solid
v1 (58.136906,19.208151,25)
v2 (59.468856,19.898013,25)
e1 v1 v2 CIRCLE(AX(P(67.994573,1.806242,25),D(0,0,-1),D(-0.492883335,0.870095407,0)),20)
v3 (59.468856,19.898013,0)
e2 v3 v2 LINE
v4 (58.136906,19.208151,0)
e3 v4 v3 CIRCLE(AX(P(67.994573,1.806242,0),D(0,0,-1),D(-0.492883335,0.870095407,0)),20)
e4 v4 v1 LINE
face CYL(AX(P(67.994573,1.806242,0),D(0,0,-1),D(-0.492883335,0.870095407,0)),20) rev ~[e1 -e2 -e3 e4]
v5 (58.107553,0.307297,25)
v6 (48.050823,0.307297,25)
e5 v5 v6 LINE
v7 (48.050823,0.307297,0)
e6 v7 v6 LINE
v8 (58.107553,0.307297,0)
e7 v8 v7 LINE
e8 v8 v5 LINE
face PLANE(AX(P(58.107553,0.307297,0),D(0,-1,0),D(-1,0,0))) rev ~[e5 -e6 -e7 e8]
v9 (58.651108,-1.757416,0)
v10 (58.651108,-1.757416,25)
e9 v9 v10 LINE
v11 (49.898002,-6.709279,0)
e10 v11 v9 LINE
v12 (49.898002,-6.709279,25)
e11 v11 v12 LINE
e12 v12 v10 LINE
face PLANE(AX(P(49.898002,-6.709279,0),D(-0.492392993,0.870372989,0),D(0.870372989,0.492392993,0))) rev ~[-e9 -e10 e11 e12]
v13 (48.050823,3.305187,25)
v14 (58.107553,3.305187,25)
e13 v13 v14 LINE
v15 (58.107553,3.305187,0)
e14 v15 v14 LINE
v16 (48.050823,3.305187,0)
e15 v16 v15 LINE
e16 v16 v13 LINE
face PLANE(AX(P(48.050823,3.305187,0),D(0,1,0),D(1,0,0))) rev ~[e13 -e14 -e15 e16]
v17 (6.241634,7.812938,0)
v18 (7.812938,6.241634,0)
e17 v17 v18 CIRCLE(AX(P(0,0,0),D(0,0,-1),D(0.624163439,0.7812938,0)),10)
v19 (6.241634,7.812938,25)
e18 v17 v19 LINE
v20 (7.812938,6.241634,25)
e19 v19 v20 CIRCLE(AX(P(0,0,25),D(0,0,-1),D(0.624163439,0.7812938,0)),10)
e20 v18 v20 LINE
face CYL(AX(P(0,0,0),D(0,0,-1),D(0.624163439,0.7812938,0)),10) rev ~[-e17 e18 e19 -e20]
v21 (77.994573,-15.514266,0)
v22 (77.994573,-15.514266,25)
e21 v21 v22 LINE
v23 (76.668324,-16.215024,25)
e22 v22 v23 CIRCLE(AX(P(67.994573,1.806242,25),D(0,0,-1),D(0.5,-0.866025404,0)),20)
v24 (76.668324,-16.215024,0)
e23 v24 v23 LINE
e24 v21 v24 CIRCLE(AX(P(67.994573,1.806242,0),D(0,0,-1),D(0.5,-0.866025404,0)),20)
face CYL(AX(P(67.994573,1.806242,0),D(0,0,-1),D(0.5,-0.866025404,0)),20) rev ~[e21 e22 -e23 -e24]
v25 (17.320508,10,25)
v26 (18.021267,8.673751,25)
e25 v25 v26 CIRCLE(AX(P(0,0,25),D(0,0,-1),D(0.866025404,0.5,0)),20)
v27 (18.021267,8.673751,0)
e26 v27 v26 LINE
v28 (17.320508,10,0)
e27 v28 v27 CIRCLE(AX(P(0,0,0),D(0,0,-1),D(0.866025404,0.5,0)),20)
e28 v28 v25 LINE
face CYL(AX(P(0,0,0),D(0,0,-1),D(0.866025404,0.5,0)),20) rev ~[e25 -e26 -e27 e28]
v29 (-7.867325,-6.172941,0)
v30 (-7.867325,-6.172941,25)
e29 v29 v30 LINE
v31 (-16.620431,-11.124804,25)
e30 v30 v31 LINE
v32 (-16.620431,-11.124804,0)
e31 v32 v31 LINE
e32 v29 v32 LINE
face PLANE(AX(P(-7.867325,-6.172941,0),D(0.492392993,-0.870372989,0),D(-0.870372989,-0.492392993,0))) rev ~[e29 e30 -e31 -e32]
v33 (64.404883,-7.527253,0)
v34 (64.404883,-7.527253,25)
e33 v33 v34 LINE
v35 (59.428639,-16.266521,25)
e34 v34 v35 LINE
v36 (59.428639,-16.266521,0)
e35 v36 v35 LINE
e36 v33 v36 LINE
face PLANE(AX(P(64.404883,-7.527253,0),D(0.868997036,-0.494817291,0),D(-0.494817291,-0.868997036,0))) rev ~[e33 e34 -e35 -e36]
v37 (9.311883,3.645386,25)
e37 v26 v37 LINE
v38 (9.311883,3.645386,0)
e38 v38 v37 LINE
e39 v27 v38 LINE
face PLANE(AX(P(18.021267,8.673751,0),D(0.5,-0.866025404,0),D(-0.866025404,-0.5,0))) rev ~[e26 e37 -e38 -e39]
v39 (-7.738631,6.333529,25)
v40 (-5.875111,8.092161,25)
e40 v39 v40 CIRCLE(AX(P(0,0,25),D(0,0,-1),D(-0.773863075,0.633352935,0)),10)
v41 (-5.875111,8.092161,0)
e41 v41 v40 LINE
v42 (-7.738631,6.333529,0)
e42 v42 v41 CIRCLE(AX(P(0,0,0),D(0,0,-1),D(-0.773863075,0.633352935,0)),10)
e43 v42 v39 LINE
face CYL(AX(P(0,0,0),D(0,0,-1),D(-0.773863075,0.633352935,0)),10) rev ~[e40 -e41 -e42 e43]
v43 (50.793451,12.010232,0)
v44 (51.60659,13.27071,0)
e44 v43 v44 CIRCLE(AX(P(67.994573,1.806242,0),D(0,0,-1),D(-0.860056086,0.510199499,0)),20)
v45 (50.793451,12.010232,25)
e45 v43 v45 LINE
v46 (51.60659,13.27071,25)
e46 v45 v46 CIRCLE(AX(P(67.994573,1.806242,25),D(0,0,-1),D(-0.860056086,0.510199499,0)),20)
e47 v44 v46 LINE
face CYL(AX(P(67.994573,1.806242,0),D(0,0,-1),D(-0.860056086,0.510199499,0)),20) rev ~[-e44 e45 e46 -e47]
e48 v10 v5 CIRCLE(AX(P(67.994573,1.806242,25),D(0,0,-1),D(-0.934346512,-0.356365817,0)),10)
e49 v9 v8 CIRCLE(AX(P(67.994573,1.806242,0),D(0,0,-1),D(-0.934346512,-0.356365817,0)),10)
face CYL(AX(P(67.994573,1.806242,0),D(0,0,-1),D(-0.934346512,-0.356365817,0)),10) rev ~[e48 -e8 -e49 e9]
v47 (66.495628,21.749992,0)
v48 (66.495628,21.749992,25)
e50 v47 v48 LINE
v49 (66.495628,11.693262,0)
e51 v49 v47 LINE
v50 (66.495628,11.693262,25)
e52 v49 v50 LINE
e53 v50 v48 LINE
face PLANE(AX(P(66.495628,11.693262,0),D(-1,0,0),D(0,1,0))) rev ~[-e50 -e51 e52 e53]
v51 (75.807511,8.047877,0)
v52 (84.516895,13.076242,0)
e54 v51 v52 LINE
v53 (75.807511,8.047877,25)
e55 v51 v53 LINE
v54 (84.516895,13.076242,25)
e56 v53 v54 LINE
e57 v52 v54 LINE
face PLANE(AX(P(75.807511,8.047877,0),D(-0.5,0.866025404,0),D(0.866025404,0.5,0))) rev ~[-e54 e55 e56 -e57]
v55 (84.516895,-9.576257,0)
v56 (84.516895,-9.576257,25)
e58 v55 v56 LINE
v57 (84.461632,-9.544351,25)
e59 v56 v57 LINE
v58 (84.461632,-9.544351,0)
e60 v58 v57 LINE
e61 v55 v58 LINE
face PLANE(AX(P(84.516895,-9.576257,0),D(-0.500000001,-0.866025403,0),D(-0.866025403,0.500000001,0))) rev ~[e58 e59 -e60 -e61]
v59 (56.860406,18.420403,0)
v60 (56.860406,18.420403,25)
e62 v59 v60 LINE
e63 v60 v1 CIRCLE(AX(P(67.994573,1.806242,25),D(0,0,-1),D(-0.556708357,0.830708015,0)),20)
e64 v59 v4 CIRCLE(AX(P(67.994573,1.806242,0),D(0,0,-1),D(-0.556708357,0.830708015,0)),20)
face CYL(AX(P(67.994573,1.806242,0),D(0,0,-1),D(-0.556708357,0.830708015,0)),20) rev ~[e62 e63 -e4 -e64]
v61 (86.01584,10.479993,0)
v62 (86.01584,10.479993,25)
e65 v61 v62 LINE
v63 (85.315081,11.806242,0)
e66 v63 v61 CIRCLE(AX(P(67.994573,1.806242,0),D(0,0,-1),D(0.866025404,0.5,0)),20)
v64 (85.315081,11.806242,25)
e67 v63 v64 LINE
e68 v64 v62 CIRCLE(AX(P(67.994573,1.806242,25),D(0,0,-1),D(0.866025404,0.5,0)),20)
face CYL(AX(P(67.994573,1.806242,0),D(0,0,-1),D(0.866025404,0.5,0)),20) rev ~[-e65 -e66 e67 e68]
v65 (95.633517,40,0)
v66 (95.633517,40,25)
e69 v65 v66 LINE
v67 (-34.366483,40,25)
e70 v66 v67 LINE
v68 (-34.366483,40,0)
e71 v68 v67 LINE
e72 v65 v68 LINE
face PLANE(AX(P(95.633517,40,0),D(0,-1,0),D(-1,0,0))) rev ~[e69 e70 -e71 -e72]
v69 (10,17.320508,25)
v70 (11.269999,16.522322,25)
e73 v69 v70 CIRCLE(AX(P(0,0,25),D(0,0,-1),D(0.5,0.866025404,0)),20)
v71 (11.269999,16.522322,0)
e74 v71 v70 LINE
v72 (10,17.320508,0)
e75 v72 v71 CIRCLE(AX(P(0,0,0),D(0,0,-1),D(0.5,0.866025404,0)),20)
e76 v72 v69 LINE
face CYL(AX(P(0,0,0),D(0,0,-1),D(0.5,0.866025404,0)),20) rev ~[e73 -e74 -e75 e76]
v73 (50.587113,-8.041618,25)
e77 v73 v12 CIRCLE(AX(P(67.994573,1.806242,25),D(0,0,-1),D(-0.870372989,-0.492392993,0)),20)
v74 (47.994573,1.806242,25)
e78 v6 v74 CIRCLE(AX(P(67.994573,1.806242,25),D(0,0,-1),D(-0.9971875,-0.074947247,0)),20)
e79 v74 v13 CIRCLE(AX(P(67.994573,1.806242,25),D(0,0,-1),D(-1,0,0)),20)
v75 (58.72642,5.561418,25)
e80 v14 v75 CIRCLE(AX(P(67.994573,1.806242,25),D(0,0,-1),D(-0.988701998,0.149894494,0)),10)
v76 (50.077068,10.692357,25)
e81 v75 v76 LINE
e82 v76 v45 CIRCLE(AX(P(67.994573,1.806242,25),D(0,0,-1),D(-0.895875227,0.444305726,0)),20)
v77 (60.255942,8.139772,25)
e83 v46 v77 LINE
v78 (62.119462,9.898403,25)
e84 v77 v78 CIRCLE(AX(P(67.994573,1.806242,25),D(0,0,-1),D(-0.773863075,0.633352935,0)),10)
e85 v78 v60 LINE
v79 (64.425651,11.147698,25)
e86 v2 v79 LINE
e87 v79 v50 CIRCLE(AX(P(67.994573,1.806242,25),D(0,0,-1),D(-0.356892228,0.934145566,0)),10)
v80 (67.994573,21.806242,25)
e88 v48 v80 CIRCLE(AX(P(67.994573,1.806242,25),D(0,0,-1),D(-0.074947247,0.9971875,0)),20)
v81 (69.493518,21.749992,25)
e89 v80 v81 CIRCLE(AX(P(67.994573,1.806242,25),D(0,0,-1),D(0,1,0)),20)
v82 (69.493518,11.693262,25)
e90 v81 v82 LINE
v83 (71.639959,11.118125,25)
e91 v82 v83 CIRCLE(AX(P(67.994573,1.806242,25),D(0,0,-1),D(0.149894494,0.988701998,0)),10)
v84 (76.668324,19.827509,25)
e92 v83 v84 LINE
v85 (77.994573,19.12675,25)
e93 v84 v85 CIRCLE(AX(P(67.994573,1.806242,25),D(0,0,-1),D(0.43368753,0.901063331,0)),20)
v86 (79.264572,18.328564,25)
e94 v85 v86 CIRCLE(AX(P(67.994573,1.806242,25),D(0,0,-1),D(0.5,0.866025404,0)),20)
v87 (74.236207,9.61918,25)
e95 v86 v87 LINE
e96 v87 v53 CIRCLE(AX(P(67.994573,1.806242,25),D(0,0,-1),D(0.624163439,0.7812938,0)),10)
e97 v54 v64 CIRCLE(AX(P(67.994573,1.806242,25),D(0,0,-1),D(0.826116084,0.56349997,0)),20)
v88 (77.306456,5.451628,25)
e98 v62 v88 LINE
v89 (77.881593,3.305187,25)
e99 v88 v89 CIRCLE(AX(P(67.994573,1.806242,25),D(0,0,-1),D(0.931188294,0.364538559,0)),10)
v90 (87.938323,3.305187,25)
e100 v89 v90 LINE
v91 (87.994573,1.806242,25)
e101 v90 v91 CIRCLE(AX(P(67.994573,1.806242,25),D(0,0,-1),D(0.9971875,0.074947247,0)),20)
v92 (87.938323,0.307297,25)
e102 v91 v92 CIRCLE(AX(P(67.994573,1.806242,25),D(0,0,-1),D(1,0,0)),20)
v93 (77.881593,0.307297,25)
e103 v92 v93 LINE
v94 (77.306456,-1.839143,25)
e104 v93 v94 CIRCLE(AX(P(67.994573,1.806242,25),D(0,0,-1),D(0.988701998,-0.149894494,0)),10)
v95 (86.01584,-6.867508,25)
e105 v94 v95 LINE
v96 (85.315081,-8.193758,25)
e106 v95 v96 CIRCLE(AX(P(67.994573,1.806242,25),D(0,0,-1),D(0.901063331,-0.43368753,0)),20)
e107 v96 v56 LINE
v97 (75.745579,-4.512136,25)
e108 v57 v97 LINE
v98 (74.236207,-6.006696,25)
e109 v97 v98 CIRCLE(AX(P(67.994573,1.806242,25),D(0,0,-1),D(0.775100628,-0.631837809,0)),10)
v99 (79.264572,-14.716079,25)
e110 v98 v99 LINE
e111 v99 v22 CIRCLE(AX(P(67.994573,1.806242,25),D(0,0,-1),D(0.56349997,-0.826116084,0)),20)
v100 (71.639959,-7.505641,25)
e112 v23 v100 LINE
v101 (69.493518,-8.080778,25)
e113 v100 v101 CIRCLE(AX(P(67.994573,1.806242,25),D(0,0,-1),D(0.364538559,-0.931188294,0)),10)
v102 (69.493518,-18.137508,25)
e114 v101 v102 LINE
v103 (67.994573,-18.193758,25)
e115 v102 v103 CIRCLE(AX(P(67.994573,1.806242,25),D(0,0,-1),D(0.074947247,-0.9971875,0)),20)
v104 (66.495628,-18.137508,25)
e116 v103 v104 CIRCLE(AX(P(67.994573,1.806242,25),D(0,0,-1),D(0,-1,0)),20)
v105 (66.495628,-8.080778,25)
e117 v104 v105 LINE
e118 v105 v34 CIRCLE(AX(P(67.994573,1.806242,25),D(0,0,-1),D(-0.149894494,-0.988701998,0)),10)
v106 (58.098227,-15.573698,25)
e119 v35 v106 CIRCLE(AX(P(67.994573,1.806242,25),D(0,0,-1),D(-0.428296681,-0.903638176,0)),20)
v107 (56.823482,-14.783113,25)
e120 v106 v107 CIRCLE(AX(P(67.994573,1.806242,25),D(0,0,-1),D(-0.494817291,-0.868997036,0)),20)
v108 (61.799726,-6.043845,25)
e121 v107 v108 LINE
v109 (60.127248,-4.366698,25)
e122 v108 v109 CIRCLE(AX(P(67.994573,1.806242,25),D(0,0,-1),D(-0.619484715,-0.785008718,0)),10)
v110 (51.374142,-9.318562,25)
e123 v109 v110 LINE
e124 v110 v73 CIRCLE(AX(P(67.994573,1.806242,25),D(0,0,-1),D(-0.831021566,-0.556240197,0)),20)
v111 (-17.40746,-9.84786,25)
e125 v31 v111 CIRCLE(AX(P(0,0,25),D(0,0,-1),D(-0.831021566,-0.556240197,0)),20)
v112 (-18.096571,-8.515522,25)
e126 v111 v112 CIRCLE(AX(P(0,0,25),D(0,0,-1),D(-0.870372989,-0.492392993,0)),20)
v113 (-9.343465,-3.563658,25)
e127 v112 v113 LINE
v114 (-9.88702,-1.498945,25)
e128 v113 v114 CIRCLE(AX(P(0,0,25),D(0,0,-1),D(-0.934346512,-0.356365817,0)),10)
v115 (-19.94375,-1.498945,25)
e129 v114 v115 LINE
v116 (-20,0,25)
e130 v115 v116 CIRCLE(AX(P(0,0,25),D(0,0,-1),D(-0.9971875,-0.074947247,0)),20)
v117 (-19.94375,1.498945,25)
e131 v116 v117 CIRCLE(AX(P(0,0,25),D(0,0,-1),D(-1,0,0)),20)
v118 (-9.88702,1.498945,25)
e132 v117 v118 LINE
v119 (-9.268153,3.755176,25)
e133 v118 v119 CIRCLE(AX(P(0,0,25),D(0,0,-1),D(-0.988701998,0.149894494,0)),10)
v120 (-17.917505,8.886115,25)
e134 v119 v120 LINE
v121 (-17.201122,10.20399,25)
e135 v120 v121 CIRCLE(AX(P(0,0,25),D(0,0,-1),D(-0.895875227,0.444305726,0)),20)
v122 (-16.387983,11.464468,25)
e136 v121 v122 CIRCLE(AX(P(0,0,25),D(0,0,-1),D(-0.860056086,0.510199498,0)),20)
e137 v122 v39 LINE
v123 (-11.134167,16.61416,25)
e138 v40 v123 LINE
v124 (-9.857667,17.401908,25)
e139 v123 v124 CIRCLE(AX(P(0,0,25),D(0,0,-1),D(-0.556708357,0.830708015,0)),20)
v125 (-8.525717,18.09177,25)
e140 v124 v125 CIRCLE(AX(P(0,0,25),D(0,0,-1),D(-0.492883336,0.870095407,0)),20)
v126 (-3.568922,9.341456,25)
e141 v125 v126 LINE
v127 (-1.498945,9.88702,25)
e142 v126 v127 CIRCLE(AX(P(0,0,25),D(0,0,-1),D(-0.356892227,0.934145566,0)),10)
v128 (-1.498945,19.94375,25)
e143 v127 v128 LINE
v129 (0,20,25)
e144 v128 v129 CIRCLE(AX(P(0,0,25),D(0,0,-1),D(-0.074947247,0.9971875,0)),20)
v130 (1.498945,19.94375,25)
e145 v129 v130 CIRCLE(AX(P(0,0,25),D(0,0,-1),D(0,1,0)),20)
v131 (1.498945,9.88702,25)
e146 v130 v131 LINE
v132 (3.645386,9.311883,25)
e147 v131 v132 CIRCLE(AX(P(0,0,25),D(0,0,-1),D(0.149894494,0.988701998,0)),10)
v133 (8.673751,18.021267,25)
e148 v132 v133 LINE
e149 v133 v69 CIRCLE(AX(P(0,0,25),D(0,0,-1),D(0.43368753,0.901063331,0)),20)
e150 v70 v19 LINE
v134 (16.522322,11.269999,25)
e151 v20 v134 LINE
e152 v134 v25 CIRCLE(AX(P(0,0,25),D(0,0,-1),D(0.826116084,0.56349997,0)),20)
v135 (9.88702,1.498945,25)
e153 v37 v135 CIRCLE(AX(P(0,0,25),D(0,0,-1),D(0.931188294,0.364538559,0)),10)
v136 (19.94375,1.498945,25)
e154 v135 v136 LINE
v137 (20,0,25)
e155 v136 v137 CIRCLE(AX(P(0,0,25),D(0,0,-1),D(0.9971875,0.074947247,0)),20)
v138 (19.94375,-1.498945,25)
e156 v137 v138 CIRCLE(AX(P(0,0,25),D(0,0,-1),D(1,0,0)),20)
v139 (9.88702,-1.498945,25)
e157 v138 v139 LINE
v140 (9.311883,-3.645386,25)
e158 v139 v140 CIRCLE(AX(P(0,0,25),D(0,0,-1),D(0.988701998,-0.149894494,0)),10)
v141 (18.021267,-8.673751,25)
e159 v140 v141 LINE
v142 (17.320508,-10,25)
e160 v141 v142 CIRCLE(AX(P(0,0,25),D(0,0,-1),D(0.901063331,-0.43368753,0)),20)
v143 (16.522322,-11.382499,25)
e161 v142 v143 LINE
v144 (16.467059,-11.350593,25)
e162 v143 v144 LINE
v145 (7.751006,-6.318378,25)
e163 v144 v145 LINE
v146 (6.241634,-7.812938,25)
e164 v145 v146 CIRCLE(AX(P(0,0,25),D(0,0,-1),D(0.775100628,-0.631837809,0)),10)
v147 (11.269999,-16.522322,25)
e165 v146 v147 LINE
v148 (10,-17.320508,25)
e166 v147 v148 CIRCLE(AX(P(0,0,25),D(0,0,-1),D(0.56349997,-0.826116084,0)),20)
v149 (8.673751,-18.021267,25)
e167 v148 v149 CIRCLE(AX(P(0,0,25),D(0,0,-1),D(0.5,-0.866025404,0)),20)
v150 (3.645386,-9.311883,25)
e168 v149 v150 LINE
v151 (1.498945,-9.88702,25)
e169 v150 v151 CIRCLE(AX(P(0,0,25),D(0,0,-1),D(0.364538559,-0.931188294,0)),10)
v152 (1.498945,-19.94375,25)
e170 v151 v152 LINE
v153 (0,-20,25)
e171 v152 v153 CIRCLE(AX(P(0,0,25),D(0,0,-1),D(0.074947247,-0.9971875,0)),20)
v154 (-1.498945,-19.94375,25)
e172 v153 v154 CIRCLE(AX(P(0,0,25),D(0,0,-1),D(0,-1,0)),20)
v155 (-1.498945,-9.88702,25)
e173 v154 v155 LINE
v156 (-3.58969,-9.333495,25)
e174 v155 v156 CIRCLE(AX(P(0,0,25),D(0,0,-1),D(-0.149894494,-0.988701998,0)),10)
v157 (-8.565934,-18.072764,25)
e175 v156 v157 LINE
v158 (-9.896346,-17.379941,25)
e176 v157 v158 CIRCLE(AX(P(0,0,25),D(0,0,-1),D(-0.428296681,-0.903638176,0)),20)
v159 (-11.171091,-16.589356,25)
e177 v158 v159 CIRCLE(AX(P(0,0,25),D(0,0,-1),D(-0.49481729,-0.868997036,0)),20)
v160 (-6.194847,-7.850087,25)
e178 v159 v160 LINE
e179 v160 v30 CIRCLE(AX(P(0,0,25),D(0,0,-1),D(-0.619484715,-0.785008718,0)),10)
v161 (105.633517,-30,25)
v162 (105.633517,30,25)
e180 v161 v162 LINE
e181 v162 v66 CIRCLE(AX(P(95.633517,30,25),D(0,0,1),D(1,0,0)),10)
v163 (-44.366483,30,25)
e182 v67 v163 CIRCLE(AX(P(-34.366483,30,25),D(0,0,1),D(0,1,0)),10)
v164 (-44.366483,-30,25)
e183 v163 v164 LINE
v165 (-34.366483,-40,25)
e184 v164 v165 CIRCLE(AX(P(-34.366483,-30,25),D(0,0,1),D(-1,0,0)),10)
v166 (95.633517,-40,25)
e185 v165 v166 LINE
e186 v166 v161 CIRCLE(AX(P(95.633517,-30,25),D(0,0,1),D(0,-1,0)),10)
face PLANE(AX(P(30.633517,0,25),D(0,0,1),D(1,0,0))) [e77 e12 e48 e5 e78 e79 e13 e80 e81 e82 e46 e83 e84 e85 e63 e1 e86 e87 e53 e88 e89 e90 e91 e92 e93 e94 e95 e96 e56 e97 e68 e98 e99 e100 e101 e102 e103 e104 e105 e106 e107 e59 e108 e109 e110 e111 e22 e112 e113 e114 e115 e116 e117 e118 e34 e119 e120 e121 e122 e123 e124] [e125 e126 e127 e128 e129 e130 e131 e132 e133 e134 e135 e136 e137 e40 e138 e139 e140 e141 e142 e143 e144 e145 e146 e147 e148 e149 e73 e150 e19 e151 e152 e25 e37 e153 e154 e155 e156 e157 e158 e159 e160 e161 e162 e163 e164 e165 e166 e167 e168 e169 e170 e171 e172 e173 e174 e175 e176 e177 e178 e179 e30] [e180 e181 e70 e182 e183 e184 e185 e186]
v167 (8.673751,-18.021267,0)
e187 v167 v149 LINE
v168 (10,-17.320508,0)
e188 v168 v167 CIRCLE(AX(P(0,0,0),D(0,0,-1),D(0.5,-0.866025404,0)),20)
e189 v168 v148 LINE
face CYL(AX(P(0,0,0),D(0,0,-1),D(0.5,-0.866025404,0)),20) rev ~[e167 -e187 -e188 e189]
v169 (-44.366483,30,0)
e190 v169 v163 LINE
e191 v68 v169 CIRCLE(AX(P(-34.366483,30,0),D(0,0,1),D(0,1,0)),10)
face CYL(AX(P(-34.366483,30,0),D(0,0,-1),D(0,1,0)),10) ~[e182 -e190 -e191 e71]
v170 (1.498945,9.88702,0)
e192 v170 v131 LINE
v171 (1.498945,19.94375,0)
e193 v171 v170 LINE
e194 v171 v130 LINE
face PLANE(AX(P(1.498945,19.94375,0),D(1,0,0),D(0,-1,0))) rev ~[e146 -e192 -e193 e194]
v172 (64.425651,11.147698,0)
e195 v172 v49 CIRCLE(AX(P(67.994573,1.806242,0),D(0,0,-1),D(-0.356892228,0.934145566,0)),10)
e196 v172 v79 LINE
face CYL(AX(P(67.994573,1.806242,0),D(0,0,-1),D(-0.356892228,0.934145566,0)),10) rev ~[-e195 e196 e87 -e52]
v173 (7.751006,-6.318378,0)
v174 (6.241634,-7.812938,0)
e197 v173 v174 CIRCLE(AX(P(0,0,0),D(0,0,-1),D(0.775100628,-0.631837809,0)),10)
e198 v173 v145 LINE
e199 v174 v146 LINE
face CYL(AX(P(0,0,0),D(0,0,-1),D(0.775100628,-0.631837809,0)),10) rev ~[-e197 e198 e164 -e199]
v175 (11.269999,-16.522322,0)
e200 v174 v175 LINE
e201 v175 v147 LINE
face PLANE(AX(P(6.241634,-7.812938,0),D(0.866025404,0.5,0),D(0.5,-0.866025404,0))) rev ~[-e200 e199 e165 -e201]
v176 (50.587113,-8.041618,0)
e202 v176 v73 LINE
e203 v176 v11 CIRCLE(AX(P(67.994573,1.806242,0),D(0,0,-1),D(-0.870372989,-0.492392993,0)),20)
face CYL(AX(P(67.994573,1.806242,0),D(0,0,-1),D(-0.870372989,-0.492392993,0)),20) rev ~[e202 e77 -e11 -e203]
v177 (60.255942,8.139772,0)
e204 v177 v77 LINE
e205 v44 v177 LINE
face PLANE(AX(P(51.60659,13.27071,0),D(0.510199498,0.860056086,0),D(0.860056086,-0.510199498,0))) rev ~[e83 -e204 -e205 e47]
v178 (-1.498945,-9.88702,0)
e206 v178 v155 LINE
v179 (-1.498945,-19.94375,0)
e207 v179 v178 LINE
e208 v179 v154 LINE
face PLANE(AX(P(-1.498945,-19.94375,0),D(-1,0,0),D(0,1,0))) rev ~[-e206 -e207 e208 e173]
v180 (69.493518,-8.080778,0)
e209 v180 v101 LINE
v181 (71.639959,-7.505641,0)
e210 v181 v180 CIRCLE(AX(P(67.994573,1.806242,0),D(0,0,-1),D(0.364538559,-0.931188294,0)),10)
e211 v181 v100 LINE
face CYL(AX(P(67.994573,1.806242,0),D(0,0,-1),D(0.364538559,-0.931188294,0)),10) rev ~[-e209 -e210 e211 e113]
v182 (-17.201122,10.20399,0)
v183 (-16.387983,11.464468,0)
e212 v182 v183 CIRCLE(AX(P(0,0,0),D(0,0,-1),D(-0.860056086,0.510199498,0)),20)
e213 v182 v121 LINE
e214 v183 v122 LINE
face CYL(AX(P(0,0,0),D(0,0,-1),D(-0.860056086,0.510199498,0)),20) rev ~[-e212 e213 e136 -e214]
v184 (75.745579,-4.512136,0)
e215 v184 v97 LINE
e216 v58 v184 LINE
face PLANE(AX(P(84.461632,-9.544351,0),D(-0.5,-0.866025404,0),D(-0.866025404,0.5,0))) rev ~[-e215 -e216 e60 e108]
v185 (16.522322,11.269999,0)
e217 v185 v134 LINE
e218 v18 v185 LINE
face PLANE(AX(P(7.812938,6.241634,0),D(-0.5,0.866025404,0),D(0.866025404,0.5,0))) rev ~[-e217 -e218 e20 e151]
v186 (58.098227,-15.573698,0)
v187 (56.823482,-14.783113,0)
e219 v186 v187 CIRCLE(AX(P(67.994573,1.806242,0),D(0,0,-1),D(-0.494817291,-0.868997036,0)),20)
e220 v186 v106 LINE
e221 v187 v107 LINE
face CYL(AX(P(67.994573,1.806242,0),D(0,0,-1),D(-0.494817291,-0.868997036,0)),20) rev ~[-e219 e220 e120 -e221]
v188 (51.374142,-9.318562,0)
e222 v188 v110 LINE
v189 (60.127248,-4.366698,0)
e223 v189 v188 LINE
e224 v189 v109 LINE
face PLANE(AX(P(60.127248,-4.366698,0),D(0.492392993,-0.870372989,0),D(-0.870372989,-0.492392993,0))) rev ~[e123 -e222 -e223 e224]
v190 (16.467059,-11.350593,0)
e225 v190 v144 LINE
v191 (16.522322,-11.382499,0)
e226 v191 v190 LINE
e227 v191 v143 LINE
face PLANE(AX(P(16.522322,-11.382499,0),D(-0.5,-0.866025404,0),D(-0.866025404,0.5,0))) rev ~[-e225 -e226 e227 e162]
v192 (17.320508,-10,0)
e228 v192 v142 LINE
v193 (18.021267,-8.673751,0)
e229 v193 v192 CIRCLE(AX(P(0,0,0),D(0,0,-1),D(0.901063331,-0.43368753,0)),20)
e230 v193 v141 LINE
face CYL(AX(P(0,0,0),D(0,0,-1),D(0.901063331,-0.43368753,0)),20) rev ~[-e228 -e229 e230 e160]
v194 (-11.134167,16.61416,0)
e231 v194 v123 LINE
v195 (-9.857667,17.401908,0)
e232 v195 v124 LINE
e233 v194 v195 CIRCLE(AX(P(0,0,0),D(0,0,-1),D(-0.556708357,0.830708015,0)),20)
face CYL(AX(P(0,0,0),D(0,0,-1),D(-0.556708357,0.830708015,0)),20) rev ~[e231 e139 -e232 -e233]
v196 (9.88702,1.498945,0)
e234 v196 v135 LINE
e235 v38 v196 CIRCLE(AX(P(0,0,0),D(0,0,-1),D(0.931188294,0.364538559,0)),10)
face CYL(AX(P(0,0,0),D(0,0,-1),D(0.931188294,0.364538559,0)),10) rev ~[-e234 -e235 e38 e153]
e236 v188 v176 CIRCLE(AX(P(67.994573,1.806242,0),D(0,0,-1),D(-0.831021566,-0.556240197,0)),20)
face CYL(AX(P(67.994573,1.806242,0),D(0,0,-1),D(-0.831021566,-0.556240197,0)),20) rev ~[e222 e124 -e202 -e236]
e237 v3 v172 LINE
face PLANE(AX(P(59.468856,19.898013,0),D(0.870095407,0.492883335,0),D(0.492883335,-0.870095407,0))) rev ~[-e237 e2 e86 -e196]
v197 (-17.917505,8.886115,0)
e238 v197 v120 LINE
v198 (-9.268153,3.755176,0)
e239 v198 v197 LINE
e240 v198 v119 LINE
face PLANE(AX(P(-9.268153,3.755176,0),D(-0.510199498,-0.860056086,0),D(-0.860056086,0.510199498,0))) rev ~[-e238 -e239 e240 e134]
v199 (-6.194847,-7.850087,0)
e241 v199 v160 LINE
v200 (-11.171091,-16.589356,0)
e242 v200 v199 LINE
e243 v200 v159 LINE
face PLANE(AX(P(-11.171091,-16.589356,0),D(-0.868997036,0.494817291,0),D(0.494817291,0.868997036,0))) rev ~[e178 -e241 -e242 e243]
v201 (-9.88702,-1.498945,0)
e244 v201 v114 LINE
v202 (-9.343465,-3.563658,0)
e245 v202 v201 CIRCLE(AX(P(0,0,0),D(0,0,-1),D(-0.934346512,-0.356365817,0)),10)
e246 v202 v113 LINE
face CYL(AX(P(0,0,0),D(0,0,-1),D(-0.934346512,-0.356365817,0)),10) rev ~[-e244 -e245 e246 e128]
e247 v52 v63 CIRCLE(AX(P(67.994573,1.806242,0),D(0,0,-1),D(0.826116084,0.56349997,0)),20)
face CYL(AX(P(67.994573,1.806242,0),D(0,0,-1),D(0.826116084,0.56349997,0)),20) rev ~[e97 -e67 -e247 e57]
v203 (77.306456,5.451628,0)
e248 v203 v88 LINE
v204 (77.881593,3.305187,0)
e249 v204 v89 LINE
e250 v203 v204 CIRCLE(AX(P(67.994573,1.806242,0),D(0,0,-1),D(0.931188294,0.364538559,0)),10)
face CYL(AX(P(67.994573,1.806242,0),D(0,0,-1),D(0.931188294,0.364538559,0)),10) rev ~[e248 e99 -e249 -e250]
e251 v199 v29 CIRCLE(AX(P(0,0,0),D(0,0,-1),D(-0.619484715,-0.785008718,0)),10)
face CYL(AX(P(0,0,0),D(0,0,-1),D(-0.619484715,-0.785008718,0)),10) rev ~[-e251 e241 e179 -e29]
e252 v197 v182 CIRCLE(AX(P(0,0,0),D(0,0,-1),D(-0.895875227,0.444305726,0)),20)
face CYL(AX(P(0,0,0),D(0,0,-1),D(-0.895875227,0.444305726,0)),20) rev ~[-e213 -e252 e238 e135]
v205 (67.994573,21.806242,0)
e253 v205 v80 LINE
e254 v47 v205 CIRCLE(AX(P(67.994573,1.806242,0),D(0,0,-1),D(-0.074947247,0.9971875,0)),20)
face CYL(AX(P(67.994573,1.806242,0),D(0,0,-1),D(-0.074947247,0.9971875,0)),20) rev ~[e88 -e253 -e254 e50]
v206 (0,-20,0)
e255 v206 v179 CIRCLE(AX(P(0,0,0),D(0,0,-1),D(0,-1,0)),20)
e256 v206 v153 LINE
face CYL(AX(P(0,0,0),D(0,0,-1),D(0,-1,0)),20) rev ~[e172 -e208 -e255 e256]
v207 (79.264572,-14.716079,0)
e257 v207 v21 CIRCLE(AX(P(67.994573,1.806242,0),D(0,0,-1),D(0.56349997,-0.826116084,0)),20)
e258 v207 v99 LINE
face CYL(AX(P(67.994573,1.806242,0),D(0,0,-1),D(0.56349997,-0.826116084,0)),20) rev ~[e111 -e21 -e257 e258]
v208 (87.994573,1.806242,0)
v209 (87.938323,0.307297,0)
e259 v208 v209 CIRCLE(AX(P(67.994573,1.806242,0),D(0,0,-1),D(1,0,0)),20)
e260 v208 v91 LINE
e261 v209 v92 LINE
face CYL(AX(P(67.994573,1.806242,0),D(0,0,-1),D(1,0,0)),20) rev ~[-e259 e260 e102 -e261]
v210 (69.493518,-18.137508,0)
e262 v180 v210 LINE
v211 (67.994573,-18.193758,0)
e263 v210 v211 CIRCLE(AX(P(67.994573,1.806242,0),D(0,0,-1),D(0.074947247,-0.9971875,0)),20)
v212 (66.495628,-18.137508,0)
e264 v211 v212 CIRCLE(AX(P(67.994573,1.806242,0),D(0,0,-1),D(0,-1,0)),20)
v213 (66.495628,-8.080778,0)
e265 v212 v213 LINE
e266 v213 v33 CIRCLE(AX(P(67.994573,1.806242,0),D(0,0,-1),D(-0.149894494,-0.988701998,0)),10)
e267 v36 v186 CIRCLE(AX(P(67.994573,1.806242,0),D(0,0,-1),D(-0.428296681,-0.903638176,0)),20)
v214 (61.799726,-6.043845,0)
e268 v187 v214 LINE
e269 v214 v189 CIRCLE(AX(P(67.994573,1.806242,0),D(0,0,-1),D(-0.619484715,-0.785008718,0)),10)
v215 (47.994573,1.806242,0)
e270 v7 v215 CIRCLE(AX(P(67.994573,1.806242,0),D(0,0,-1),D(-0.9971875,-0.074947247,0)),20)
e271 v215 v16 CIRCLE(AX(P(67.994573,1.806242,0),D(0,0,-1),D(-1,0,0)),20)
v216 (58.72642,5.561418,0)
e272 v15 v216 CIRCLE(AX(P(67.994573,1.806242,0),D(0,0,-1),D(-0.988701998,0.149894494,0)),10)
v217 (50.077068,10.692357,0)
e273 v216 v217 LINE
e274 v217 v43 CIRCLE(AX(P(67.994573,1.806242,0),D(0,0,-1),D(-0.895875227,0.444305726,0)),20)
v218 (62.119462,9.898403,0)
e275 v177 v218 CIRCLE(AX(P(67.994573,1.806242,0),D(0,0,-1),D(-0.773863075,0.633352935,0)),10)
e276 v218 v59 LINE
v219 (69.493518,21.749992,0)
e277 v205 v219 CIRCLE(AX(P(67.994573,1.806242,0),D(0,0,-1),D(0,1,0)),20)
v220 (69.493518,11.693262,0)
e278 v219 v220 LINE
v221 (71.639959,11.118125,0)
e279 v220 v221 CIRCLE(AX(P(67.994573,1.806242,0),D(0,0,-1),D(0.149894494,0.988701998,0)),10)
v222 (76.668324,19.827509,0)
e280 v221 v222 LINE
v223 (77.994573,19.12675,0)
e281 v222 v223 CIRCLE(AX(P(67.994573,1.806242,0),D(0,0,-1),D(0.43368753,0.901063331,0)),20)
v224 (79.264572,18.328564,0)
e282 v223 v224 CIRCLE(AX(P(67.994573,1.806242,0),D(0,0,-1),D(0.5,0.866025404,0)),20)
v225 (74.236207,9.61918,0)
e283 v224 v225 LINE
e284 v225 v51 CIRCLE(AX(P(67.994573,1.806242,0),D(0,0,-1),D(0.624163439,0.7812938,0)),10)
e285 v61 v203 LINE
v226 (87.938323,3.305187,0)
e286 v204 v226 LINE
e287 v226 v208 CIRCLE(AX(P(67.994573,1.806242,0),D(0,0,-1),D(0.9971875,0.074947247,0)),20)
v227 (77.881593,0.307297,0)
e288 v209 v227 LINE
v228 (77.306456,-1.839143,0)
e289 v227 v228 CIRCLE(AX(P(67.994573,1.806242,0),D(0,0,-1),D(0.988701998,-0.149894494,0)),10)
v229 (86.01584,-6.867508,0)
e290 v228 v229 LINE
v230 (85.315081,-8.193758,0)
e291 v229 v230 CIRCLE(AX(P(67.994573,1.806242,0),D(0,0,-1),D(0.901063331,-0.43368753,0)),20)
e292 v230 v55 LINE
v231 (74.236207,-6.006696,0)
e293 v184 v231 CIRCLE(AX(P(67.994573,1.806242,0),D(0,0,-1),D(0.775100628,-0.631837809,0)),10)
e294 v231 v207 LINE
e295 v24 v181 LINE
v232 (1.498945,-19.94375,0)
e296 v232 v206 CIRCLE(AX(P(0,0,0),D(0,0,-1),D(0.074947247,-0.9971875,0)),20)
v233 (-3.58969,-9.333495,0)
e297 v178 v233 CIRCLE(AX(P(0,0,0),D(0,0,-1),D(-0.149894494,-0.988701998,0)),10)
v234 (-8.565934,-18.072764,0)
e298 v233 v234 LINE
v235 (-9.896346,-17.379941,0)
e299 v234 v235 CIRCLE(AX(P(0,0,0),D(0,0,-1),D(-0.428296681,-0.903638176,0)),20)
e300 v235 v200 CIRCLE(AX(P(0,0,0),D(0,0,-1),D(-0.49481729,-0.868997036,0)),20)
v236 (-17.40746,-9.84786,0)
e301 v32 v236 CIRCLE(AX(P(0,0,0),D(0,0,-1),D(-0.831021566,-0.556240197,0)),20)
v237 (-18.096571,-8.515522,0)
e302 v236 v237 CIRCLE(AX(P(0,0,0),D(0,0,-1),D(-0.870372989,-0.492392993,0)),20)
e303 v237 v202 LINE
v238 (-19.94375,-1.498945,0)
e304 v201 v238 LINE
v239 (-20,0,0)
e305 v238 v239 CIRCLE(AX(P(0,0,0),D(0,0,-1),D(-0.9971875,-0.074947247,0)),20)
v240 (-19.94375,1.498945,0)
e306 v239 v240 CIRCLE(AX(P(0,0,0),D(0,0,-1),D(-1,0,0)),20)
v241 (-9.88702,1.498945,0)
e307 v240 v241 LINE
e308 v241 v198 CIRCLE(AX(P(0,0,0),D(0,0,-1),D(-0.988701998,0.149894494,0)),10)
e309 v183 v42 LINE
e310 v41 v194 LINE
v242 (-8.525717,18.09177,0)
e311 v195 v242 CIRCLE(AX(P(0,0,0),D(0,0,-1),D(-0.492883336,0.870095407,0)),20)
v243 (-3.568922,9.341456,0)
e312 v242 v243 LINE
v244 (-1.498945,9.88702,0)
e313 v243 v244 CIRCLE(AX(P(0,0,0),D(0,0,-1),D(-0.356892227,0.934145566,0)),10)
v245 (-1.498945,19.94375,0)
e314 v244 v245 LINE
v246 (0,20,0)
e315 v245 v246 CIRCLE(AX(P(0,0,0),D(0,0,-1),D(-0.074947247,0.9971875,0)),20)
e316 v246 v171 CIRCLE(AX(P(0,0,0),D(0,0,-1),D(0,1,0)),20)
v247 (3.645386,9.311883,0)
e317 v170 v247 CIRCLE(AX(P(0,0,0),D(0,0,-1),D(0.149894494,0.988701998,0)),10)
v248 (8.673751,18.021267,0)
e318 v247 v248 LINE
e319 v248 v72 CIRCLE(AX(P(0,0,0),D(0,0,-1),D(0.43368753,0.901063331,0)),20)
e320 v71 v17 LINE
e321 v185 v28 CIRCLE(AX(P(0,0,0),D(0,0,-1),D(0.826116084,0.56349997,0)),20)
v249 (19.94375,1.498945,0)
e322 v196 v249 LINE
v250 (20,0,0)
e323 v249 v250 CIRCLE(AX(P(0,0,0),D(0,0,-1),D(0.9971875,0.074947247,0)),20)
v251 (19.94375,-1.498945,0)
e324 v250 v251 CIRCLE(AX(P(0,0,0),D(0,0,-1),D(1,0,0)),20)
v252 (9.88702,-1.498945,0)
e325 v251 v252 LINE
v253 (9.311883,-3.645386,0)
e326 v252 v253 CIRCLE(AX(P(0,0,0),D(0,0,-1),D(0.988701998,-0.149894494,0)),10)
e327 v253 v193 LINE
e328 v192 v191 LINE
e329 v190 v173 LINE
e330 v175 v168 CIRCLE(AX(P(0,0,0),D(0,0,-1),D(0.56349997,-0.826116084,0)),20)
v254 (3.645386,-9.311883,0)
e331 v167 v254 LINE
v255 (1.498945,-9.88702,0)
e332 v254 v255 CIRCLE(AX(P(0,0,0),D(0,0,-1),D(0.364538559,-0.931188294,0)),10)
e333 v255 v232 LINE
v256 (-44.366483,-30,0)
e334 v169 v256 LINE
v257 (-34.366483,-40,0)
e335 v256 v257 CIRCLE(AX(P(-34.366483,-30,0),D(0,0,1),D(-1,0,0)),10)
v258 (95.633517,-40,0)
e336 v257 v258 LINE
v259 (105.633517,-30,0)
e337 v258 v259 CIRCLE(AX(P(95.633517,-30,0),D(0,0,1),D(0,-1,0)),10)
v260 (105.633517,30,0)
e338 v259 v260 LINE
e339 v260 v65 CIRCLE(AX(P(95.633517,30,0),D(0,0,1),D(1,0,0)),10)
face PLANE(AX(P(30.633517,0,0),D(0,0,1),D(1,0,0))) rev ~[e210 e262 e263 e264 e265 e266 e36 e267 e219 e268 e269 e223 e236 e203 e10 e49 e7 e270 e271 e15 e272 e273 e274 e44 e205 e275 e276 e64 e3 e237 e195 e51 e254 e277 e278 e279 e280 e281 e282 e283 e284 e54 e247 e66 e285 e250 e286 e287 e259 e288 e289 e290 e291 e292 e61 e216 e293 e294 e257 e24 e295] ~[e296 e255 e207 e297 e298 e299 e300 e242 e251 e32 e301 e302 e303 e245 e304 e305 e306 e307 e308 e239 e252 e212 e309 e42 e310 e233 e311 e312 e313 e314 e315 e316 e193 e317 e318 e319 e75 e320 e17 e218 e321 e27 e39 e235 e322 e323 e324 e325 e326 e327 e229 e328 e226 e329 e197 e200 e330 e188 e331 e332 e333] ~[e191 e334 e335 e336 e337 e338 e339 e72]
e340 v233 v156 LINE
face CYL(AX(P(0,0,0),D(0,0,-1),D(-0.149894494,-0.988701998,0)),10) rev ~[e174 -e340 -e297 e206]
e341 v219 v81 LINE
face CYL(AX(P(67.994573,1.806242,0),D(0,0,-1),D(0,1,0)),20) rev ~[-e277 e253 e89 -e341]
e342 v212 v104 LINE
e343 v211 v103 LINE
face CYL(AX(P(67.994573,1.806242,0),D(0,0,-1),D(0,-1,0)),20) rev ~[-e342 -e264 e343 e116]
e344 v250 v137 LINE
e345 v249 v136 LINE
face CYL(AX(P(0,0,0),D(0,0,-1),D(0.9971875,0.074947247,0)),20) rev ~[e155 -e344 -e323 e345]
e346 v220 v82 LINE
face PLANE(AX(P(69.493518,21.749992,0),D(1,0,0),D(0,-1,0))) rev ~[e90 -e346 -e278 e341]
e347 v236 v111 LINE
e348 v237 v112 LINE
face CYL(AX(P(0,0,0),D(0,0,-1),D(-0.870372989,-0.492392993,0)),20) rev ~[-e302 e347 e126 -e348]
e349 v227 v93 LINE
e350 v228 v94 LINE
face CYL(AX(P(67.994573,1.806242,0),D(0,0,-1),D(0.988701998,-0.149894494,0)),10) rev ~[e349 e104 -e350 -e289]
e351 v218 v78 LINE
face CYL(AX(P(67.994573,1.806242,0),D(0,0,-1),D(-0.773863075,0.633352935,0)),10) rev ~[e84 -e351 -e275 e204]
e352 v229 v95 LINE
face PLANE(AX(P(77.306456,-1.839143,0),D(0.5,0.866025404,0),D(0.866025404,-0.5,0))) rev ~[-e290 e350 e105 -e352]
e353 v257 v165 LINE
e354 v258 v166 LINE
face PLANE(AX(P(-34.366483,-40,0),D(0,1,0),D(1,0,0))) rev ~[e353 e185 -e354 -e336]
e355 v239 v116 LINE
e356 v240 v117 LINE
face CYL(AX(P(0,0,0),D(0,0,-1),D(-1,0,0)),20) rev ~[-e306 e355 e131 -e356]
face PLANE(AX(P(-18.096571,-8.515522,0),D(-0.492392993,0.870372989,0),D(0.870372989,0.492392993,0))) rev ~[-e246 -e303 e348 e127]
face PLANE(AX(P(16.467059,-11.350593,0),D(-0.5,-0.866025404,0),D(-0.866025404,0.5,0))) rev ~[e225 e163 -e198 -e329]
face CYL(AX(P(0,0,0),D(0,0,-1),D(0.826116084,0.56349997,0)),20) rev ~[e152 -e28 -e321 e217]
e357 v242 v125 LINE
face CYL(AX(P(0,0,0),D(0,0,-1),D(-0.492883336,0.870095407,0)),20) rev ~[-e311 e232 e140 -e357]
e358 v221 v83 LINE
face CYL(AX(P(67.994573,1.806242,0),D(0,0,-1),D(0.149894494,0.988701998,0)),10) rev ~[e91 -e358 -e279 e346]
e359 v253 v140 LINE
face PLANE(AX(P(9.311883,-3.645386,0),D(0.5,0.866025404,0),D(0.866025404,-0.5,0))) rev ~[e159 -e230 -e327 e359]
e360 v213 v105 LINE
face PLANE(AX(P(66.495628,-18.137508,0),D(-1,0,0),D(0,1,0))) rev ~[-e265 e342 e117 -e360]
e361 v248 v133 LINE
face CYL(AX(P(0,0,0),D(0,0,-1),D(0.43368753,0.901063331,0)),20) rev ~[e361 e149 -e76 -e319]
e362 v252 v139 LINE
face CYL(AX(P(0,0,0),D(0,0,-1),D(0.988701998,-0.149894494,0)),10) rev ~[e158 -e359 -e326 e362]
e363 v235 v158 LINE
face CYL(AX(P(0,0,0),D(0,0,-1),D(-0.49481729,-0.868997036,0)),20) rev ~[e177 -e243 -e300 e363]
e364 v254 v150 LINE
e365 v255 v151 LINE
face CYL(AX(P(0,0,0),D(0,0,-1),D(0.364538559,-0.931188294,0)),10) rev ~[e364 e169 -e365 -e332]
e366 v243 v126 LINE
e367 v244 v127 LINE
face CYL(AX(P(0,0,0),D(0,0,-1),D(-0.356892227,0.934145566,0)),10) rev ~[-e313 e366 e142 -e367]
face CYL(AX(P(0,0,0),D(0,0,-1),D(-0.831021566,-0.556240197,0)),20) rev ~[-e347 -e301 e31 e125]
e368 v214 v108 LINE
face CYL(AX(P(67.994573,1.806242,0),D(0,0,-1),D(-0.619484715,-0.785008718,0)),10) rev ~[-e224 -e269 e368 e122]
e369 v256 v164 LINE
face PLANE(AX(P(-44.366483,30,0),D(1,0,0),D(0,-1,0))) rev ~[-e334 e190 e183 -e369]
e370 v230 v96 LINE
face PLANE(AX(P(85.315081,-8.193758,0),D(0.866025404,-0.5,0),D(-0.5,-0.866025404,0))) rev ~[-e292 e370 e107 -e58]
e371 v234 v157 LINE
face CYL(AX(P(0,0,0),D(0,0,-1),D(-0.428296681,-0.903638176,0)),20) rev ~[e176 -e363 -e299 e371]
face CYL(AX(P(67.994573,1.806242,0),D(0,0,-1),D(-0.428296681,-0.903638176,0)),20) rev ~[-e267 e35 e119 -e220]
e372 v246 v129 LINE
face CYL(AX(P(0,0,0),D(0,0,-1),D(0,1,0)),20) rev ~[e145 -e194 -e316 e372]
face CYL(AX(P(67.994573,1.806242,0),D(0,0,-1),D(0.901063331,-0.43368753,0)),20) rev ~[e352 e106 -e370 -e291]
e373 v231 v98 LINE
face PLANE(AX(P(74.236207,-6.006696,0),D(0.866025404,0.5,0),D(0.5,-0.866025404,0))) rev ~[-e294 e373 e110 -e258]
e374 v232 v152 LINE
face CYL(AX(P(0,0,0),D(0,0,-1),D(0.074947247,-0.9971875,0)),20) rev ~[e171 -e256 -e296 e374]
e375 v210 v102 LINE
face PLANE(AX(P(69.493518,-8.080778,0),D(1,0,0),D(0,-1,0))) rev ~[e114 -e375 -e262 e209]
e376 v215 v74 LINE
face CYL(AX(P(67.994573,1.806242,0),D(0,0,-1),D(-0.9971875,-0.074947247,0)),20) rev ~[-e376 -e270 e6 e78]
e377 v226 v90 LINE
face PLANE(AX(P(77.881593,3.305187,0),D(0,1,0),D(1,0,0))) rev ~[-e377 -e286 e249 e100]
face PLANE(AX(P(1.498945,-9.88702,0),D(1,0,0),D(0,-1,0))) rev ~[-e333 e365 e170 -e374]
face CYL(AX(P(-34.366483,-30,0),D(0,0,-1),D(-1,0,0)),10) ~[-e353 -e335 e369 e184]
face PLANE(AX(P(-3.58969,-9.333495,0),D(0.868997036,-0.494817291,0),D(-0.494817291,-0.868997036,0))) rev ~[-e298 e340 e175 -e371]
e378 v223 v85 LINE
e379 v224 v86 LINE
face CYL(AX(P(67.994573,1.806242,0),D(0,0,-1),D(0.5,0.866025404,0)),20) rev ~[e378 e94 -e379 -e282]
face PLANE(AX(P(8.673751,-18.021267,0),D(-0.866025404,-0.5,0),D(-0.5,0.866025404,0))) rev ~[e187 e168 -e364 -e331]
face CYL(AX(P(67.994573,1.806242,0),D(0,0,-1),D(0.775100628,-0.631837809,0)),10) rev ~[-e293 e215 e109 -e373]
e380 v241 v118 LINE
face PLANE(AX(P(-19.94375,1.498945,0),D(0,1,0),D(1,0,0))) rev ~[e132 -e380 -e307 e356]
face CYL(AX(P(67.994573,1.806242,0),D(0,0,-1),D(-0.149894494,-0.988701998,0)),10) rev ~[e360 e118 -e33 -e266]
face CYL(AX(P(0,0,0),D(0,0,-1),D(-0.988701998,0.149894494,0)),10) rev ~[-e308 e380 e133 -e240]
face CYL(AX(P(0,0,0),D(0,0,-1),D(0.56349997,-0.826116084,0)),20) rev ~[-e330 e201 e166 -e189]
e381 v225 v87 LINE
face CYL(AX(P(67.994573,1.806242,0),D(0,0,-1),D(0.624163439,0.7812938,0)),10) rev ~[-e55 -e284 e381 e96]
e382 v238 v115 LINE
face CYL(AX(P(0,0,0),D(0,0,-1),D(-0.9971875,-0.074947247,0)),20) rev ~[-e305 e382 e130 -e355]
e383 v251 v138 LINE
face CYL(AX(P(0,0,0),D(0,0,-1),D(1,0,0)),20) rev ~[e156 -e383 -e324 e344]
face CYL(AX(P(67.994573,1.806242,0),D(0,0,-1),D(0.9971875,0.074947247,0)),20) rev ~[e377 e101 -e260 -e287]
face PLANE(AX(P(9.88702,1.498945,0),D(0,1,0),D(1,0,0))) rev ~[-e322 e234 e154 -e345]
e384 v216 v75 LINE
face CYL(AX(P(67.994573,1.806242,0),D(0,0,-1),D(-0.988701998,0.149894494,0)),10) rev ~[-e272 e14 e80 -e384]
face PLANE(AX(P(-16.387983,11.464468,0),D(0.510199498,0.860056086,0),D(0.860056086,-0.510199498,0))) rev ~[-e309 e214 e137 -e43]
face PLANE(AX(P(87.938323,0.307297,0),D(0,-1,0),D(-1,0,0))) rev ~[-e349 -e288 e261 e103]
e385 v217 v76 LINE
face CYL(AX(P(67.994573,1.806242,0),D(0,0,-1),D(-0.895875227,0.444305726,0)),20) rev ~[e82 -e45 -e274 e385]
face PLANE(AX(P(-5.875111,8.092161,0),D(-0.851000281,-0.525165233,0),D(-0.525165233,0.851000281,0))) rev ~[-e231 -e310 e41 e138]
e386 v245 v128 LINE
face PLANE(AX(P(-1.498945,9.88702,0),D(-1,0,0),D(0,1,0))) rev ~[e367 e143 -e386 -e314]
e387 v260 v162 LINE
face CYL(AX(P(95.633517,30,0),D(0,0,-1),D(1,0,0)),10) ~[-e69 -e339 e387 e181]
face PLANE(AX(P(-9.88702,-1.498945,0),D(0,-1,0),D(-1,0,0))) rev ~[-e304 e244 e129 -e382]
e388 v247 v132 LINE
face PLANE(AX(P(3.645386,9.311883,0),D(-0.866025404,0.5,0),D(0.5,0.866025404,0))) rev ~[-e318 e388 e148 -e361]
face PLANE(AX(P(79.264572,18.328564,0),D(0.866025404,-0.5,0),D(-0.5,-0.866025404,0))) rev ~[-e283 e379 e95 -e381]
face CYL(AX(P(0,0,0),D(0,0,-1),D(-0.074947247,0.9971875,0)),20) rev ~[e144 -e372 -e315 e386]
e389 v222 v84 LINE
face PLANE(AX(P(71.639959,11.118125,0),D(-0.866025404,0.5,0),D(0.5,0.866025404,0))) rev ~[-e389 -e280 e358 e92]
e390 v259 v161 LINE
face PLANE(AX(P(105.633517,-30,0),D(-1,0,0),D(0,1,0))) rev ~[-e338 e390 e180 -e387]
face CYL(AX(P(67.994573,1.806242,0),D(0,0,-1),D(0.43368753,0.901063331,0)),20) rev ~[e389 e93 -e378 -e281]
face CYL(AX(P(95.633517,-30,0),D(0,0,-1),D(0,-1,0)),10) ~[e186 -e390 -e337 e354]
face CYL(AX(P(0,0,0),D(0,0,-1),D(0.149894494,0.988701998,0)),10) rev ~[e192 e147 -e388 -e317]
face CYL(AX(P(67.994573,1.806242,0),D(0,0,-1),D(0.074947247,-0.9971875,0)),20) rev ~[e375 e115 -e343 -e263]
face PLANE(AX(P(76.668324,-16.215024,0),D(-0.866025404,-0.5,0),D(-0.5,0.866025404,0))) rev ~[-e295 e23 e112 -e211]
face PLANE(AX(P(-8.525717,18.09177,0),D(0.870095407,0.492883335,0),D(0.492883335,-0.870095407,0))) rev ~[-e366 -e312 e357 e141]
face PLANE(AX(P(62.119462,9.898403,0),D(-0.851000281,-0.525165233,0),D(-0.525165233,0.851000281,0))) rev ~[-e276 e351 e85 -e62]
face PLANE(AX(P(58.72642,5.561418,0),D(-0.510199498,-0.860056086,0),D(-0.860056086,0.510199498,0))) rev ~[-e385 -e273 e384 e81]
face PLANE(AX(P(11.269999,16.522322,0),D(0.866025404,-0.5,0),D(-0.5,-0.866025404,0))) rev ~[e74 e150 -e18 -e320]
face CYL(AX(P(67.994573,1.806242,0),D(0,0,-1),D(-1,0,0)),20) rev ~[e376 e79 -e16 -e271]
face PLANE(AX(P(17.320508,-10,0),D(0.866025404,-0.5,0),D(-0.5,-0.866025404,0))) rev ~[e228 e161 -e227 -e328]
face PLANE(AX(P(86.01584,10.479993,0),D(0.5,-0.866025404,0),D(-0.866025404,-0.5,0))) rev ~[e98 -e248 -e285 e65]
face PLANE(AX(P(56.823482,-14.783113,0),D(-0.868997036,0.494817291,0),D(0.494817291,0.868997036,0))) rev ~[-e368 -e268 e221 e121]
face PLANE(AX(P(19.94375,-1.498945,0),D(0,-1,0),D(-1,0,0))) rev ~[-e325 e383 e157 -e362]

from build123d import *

# Parameters (mm, degrees)
F1_DEPTH = 25


with BuildPart() as f1:
    # F0 (on Top) → F1 (new body)
    with BuildSketch(Plane.XY):
        with BuildLine():
            Line((-44.3664826453, 30), (-44.3664826453, 0))
            Line((-44.3664826453, 0), (-44.3664826453, -30))
            ThreePointArc((-44.3664826453, -30), (-41.4375504571, -37.0710678119), (-34.3664826453, -40))
            Line((-34.3664826453, -40), (95.6335173547, -40))
            ThreePointArc((95.6335173547, -40), (102.7045851666, -37.0710678119), (105.6335173547, -30))
            Line((105.6335173547, -30), (105.6335173547, 30))
            ThreePointArc((105.6335173547, 30), (102.7045851666, 37.0710678119), (95.6335173547, 40))
            Line((95.6335173547, 40), (-34.3664826453, 40))
            ThreePointArc((-34.3664826453, 40), (-41.4375504571, 37.0710678119), (-44.3664826453, 30))
        make_face()
        with BuildLine():
            ThreePointArc((-17.2011217286, 10.2039899685), (-16.8063733111, 10.8418548288), (-16.3879826165, 11.4644679668))
            Line((-16.3879826165, 11.4644679668), (-7.7386307522, 6.3335293543))
            ThreePointArc((-7.7386307522, 6.3335293543), (-6.8634313714, 7.2727786856), (-5.8751114363, 8.0921607505))
            Line((-5.8751114363, 8.0921607505), (-11.1341671305, 16.6141602951))
            ThreePointArc((-11.1341671305, 16.6141602951), (-10.503304654, 17.0200056212), (-9.8576667089, 17.4019081441))
            ThreePointArc((-9.8576667089, 17.4019081441), (-9.1981615432, 17.7593306244), (-8.5257169121, 18.0917702598))
            Line((-8.5257169121, 18.0917702598), (-3.5689222756, 9.341455657))
            ThreePointArc((-3.5689222756, 9.341455657), (-2.5485740405, 9.6697864692), (-1.4989449415, 9.8870199789))
            Line((-1.4989449415, 9.8870199789), (-1.4989449415, 19.94375))
            ThreePointArc((-1.4989449415, 19.94375), (-0.75, 19.9859325527), (0, 20))
            ThreePointArc((0, 20), (0.75, 19.9859325527), (1.4989449415, 19.94375))
            Line((1.4989449415, 19.94375), (1.4989449415, 9.8870199789))
            ThreePointArc((1.4989449415, 9.8870199789), (2.588190451, 9.6592582629), (3.6453855913, 9.3118829401))
            Line((3.6453855913, 9.3118829401), (8.6737506018, 18.0212666175))
            ThreePointArc((8.6737506018, 18.0212666175), (9.3434472235, 17.6833253089), (10, 17.3205080757))
            ThreePointArc((10, 17.3205080757), (10.6424853292, 16.9333253089), (11.2699993982, 16.522321676))
            Line((11.2699993982, 16.522321676), (6.2416343876, 7.8129379987))
            ThreePointArc((6.2416343876, 7.8129379987), (7.0710678119, 7.0710678119), (7.8129379987, 6.2416343876))
            Line((7.8129379987, 6.2416343876), (16.522321676, 11.2699993982))
            ThreePointArc((16.522321676, 11.2699993982), (16.9333253089, 10.6424853292), (17.3205080757, 10))
            ThreePointArc((17.3205080757, 10), (17.6833253089, 9.3434472235), (18.0212666175, 8.6737506018))
            Line((18.0212666175, 8.6737506018), (9.3118829401, 3.6453855913))
            ThreePointArc((9.3118829401, 3.6453855913), (9.6592582629, 2.588190451), (9.8870199789, 1.4989449415))
            Line((9.8870199789, 1.4989449415), (19.94375, 1.4989449415))
            ThreePointArc((19.94375, 1.4989449415), (19.9859325527, 0.75), (20, 0))
            ThreePointArc((20, 0), (19.9859325527, -0.75), (19.94375, -1.4989449415))
            Line((19.94375, -1.4989449415), (9.8870199789, -1.4989449415))
            ThreePointArc((9.8870199789, -1.4989449415), (9.6592582629, -2.588190451), (9.3118829401, -3.6453855913))
            Line((9.3118829401, -3.6453855913), (18.0212666175, -8.6737506018))
            ThreePointArc((18.0212666175, -8.6737506018), (17.6833253089, -9.3434472235), (17.3205080757, -10))
            Line((17.3205080757, -10), (16.522321676, -11.3824993982))
            Line((16.522321676, -11.3824993982), (16.4670589045, -11.3505934222))
            Line((16.4670589045, -11.3505934222), (7.7510062765, -6.3183780911))
            ThreePointArc((7.7510062765, -6.3183780911), (7.0361157976, -7.1058479073), (6.2416343876, -7.8129379987))
            Line((6.2416343876, -7.8129379987), (11.2699993982, -16.522321676))
            ThreePointArc((11.2699993982, -16.522321676), (10.6424853292, -16.9333253089), (10, -17.3205080757))
            ThreePointArc((10, -17.3205080757), (9.3434472235, -17.6833253089), (8.6737506018, -18.0212666175))
            Line((8.6737506018, -18.0212666175), (3.6453855913, -9.3118829401))
            ThreePointArc((3.6453855913, -9.3118829401), (2.588190451, -9.6592582629), (1.4989449415, -9.8870199789))
            Line((1.4989449415, -9.8870199789), (1.4989449415, -19.94375))
            ThreePointArc((1.4989449415, -19.94375), (0.75, -19.9859325527), (0, -20))
            ThreePointArc((0, -20), (-0.75, -19.9859325527), (-1.4989449415, -19.94375))
            Line((-1.4989449415, -19.94375), (-1.4989449415, -9.8870199789))
            ThreePointArc((-1.4989449415, -9.8870199789), (-2.5593257291, -9.6669463541), (-3.5896897256, -9.3334949335))
            Line((-3.5896897256, -9.3334949335), (-8.5659336261, -18.0727635162))
            ThreePointArc((-8.5659336261, -18.0727635162), (-9.237637217, -17.7388291228), (-9.8963458103, -17.3799407249))
            ThreePointArc((-9.8963458103, -17.3799407249), (-10.5411327714, -16.996603187), (-11.1710910494, -16.5893557671))
            Line((-11.1710910494, -16.5893557671), (-6.1948471489, -7.8500871844))
            ThreePointArc((-6.1948471489, -7.8500871844), (-7.0809164405, -7.0612054468), (-7.8673251482, -6.1729405482))
            Line((-7.8673251482, -6.1729405482), (-16.6204313192, -11.1248039426))
            ThreePointArc((-16.6204313192, -11.1248039426), (-17.025921115, -10.4937128885), (-17.4074597859, -9.847859859))
            ThreePointArc((-17.4074597859, -9.847859859), (-17.7645106044, -9.1881534046), (-18.0965712912, -8.5155215637))
            Line((-18.0965712912, -8.5155215637), (-9.3434651202, -3.5636581693))
            ThreePointArc((-9.3434651202, -3.5636581693), (-9.6705040957, -2.5458496686), (-9.8870199789, -1.4989449415))
            Line((-9.8870199789, -1.4989449415), (-19.94375, -1.4989449415))
            ThreePointArc((-19.94375, -1.4989449415), (-19.9859325527, -0.75), (-20, 0))
            ThreePointArc((-20, 0), (-19.9859325527, 0.75), (-19.94375, 1.4989449415))
            Line((-19.94375, 1.4989449415), (-9.8870199789, 1.4989449415))
            ThreePointArc((-9.8870199789, 1.4989449415), (-9.6437961572, 2.645221291), (-9.2681526668, 3.755175914))
            Line((-9.2681526668, 3.755175914), (-17.917504531, 8.8861145266))
            ThreePointArc((-17.917504531, 8.8861145266), (-17.5716725587, 9.5517706991), (-17.2011217286, 10.2039899685))
        make_face(mode=Mode.SUBTRACT)
        with BuildLine():
            ThreePointArc((50.7934512707, 12.0102323271), (51.1881996883, 12.6480971873), (51.6065903829, 13.2707103254))
            Line((51.6065903829, 13.2707103254), (60.2559422472, 8.1397717128))
            ThreePointArc((60.2559422472, 8.1397717128), (61.1311416279, 9.0790210442), (62.1194615631, 9.898403109))
            Line((62.1194615631, 9.898403109), (56.8604058688, 18.4204026536))
            ThreePointArc((56.8604058688, 18.4204026536), (57.4912683454, 18.8262479798), (58.1369062904, 19.2081505027))
            ThreePointArc((58.1369062904, 19.2081505027), (58.7964114562, 19.565572983), (59.4688560873, 19.8980126184))
            Line((59.4688560873, 19.8980126184), (64.4256507238, 11.1476980155))
            ThreePointArc((64.4256507238, 11.1476980155), (65.4459989589, 11.4760288278), (66.4956280579, 11.6932623374))
            Line((66.4956280579, 11.6932623374), (66.4956280579, 21.7499923586))
            ThreePointArc((66.4956280579, 21.7499923586), (67.2445729993, 21.7921749113), (67.9945729993, 21.8062423586))
            ThreePointArc((67.9945729993, 21.8062423586), (68.7445729993, 21.7921749113), (69.4935179408, 21.7499923586))
            Line((69.4935179408, 21.7499923586), (69.4935179408, 11.6932623374))
            ThreePointArc((69.4935179408, 11.6932623374), (70.5827634504, 11.4655006215), (71.6399585906, 11.1181252987))
            Line((71.6399585906, 11.1181252987), (76.6683236012, 19.827508976))
            ThreePointArc((76.6683236012, 19.827508976), (77.3380202228, 19.4895676675), (77.9945729993, 19.1267504343))
            ThreePointArc((77.9945729993, 19.1267504343), (78.6370583285, 18.7395676675), (79.2645723975, 18.3285640346))
            Line((79.2645723975, 18.3285640346), (74.236207387, 9.6191803573))
            ThreePointArc((74.236207387, 9.6191803573), (75.0656408112, 8.8773101704), (75.807510998, 8.0478767462))
            Line((75.807510998, 8.0478767462), (84.5168946753, 13.0762417567))
            ThreePointArc((84.5168946753, 13.0762417567), (84.9278983083, 12.4487276878), (85.315081075, 11.8062423586))
            ThreePointArc((85.315081075, 11.8062423586), (85.6778983083, 11.1496895821), (86.0158396168, 10.4799929604))
            Line((86.0158396168, 10.4799929604), (77.3064559395, 5.4516279498))
            ThreePointArc((77.3064559395, 5.4516279498), (77.6538312622, 4.3944328096), (77.8815929782, 3.3051873))
            Line((77.8815929782, 3.3051873), (87.9383229993, 3.3051873))
            ThreePointArc((87.9383229993, 3.3051873), (87.980505552, 2.5562423586), (87.9945729993, 1.8062423586))
            ThreePointArc((87.9945729993, 1.8062423586), (87.980505552, 1.0562423586), (87.9383229993, 0.3072974171))
            Line((87.9383229993, 0.3072974171), (77.8815929782, 0.3072974171))
            ThreePointArc((77.8815929782, 0.3072974171), (77.6538312622, -0.7819480924), (77.3064559395, -1.8391432327))
            Line((77.3064559395, -1.8391432327), (86.0158396168, -6.8675082433))
            ThreePointArc((86.0158396168, -6.8675082433), (85.6778983083, -7.5372048649), (85.315081075, -8.1937576414))
            Line((85.315081075, -8.1937576414), (84.5168946753, -9.5762570396))
            Line((84.5168946753, -9.5762570396), (84.4616319039, -9.5443510636))
            Line((84.4616319039, -9.5443510636), (75.7455792758, -4.5121357325))
            ThreePointArc((75.7455792758, -4.5121357325), (75.030688797, -5.2996055488), (74.236207387, -6.0066956401))
            Line((74.236207387, -6.0066956401), (79.2645723975, -14.7160793174))
            ThreePointArc((79.2645723975, -14.7160793174), (78.6370583285, -15.1270829504), (77.9945729993, -15.5142657171))
            ThreePointArc((77.9945729993, -15.5142657171), (77.3380202228, -15.8770829504), (76.6683236012, -16.2150242589))
            Line((76.6683236012, -16.2150242589), (71.6399585906, -7.5056405816))
            ThreePointArc((71.6399585906, -7.5056405816), (70.5827634504, -7.8530159043), (69.4935179408, -8.0807776203))
            Line((69.4935179408, -8.0807776203), (69.4935179408, -18.1375076414))
            ThreePointArc((69.4935179408, -18.1375076414), (68.7445729993, -18.1796901941), (67.9945729993, -18.1937576414))
            ThreePointArc((67.9945729993, -18.1937576414), (67.2445729993, -18.1796901941), (66.4956280579, -18.1375076414))
            Line((66.4956280579, -18.1375076414), (66.4956280579, -8.0807776203))
            ThreePointArc((66.4956280579, -8.0807776203), (65.4352472702, -7.8607039955), (64.4048832737, -7.5272525749))
            Line((64.4048832737, -7.5272525749), (59.4286393732, -16.2665211576))
            ThreePointArc((59.4286393732, -16.2665211576), (58.7569357824, -15.9325867642), (58.098227189, -15.5736983664))
            ThreePointArc((58.098227189, -15.5736983664), (57.453440228, -15.1903608284), (56.82348195, -14.7831134085))
            Line((56.82348195, -14.7831134085), (61.7997258505, -6.0438448258))
            ThreePointArc((61.7997258505, -6.0438448258), (60.9136565588, -5.2549630882), (60.1272478511, -4.3666981897))
            Line((60.1272478511, -4.3666981897), (51.3741416801, -9.3185615841))
            ThreePointArc((51.3741416801, -9.3185615841), (50.9686518844, -8.6874705299), (50.5871132135, -8.0416175004))
            ThreePointArc((50.5871132135, -8.0416175004), (50.2300623949, -7.381911046), (49.8980017081, -6.7092792051))
            Line((49.8980017081, -6.7092792051), (58.6511078791, -1.7574158107))
            ThreePointArc((58.6511078791, -1.7574158107), (58.3240689037, -0.7396073101), (58.1075530205, 0.3072974171))
            Line((58.1075530205, 0.3072974171), (48.0508229993, 0.3072974171))
            ThreePointArc((48.0508229993, 0.3072974171), (48.0086404467, 1.0562423586), (47.9945729993, 1.8062423586))
            ThreePointArc((47.9945729993, 1.8062423586), (48.0086404467, 2.5562423586), (48.0508229993, 3.3051873))
            Line((48.0508229993, 3.3051873), (58.1075530205, 3.3051873))
            ThreePointArc((58.1075530205, 3.3051873), (58.3507768422, 4.4514636496), (58.7264203326, 5.5614182726))
            Line((58.7264203326, 5.5614182726), (50.0770684683, 10.6923568852))
            ThreePointArc((50.0770684683, 10.6923568852), (50.4229004406, 11.3580130577), (50.7934512707, 12.0102323271))
        make_face(mode=Mode.SUBTRACT)
    extrude(amount=F1_DEPTH)


solid = f1.part
